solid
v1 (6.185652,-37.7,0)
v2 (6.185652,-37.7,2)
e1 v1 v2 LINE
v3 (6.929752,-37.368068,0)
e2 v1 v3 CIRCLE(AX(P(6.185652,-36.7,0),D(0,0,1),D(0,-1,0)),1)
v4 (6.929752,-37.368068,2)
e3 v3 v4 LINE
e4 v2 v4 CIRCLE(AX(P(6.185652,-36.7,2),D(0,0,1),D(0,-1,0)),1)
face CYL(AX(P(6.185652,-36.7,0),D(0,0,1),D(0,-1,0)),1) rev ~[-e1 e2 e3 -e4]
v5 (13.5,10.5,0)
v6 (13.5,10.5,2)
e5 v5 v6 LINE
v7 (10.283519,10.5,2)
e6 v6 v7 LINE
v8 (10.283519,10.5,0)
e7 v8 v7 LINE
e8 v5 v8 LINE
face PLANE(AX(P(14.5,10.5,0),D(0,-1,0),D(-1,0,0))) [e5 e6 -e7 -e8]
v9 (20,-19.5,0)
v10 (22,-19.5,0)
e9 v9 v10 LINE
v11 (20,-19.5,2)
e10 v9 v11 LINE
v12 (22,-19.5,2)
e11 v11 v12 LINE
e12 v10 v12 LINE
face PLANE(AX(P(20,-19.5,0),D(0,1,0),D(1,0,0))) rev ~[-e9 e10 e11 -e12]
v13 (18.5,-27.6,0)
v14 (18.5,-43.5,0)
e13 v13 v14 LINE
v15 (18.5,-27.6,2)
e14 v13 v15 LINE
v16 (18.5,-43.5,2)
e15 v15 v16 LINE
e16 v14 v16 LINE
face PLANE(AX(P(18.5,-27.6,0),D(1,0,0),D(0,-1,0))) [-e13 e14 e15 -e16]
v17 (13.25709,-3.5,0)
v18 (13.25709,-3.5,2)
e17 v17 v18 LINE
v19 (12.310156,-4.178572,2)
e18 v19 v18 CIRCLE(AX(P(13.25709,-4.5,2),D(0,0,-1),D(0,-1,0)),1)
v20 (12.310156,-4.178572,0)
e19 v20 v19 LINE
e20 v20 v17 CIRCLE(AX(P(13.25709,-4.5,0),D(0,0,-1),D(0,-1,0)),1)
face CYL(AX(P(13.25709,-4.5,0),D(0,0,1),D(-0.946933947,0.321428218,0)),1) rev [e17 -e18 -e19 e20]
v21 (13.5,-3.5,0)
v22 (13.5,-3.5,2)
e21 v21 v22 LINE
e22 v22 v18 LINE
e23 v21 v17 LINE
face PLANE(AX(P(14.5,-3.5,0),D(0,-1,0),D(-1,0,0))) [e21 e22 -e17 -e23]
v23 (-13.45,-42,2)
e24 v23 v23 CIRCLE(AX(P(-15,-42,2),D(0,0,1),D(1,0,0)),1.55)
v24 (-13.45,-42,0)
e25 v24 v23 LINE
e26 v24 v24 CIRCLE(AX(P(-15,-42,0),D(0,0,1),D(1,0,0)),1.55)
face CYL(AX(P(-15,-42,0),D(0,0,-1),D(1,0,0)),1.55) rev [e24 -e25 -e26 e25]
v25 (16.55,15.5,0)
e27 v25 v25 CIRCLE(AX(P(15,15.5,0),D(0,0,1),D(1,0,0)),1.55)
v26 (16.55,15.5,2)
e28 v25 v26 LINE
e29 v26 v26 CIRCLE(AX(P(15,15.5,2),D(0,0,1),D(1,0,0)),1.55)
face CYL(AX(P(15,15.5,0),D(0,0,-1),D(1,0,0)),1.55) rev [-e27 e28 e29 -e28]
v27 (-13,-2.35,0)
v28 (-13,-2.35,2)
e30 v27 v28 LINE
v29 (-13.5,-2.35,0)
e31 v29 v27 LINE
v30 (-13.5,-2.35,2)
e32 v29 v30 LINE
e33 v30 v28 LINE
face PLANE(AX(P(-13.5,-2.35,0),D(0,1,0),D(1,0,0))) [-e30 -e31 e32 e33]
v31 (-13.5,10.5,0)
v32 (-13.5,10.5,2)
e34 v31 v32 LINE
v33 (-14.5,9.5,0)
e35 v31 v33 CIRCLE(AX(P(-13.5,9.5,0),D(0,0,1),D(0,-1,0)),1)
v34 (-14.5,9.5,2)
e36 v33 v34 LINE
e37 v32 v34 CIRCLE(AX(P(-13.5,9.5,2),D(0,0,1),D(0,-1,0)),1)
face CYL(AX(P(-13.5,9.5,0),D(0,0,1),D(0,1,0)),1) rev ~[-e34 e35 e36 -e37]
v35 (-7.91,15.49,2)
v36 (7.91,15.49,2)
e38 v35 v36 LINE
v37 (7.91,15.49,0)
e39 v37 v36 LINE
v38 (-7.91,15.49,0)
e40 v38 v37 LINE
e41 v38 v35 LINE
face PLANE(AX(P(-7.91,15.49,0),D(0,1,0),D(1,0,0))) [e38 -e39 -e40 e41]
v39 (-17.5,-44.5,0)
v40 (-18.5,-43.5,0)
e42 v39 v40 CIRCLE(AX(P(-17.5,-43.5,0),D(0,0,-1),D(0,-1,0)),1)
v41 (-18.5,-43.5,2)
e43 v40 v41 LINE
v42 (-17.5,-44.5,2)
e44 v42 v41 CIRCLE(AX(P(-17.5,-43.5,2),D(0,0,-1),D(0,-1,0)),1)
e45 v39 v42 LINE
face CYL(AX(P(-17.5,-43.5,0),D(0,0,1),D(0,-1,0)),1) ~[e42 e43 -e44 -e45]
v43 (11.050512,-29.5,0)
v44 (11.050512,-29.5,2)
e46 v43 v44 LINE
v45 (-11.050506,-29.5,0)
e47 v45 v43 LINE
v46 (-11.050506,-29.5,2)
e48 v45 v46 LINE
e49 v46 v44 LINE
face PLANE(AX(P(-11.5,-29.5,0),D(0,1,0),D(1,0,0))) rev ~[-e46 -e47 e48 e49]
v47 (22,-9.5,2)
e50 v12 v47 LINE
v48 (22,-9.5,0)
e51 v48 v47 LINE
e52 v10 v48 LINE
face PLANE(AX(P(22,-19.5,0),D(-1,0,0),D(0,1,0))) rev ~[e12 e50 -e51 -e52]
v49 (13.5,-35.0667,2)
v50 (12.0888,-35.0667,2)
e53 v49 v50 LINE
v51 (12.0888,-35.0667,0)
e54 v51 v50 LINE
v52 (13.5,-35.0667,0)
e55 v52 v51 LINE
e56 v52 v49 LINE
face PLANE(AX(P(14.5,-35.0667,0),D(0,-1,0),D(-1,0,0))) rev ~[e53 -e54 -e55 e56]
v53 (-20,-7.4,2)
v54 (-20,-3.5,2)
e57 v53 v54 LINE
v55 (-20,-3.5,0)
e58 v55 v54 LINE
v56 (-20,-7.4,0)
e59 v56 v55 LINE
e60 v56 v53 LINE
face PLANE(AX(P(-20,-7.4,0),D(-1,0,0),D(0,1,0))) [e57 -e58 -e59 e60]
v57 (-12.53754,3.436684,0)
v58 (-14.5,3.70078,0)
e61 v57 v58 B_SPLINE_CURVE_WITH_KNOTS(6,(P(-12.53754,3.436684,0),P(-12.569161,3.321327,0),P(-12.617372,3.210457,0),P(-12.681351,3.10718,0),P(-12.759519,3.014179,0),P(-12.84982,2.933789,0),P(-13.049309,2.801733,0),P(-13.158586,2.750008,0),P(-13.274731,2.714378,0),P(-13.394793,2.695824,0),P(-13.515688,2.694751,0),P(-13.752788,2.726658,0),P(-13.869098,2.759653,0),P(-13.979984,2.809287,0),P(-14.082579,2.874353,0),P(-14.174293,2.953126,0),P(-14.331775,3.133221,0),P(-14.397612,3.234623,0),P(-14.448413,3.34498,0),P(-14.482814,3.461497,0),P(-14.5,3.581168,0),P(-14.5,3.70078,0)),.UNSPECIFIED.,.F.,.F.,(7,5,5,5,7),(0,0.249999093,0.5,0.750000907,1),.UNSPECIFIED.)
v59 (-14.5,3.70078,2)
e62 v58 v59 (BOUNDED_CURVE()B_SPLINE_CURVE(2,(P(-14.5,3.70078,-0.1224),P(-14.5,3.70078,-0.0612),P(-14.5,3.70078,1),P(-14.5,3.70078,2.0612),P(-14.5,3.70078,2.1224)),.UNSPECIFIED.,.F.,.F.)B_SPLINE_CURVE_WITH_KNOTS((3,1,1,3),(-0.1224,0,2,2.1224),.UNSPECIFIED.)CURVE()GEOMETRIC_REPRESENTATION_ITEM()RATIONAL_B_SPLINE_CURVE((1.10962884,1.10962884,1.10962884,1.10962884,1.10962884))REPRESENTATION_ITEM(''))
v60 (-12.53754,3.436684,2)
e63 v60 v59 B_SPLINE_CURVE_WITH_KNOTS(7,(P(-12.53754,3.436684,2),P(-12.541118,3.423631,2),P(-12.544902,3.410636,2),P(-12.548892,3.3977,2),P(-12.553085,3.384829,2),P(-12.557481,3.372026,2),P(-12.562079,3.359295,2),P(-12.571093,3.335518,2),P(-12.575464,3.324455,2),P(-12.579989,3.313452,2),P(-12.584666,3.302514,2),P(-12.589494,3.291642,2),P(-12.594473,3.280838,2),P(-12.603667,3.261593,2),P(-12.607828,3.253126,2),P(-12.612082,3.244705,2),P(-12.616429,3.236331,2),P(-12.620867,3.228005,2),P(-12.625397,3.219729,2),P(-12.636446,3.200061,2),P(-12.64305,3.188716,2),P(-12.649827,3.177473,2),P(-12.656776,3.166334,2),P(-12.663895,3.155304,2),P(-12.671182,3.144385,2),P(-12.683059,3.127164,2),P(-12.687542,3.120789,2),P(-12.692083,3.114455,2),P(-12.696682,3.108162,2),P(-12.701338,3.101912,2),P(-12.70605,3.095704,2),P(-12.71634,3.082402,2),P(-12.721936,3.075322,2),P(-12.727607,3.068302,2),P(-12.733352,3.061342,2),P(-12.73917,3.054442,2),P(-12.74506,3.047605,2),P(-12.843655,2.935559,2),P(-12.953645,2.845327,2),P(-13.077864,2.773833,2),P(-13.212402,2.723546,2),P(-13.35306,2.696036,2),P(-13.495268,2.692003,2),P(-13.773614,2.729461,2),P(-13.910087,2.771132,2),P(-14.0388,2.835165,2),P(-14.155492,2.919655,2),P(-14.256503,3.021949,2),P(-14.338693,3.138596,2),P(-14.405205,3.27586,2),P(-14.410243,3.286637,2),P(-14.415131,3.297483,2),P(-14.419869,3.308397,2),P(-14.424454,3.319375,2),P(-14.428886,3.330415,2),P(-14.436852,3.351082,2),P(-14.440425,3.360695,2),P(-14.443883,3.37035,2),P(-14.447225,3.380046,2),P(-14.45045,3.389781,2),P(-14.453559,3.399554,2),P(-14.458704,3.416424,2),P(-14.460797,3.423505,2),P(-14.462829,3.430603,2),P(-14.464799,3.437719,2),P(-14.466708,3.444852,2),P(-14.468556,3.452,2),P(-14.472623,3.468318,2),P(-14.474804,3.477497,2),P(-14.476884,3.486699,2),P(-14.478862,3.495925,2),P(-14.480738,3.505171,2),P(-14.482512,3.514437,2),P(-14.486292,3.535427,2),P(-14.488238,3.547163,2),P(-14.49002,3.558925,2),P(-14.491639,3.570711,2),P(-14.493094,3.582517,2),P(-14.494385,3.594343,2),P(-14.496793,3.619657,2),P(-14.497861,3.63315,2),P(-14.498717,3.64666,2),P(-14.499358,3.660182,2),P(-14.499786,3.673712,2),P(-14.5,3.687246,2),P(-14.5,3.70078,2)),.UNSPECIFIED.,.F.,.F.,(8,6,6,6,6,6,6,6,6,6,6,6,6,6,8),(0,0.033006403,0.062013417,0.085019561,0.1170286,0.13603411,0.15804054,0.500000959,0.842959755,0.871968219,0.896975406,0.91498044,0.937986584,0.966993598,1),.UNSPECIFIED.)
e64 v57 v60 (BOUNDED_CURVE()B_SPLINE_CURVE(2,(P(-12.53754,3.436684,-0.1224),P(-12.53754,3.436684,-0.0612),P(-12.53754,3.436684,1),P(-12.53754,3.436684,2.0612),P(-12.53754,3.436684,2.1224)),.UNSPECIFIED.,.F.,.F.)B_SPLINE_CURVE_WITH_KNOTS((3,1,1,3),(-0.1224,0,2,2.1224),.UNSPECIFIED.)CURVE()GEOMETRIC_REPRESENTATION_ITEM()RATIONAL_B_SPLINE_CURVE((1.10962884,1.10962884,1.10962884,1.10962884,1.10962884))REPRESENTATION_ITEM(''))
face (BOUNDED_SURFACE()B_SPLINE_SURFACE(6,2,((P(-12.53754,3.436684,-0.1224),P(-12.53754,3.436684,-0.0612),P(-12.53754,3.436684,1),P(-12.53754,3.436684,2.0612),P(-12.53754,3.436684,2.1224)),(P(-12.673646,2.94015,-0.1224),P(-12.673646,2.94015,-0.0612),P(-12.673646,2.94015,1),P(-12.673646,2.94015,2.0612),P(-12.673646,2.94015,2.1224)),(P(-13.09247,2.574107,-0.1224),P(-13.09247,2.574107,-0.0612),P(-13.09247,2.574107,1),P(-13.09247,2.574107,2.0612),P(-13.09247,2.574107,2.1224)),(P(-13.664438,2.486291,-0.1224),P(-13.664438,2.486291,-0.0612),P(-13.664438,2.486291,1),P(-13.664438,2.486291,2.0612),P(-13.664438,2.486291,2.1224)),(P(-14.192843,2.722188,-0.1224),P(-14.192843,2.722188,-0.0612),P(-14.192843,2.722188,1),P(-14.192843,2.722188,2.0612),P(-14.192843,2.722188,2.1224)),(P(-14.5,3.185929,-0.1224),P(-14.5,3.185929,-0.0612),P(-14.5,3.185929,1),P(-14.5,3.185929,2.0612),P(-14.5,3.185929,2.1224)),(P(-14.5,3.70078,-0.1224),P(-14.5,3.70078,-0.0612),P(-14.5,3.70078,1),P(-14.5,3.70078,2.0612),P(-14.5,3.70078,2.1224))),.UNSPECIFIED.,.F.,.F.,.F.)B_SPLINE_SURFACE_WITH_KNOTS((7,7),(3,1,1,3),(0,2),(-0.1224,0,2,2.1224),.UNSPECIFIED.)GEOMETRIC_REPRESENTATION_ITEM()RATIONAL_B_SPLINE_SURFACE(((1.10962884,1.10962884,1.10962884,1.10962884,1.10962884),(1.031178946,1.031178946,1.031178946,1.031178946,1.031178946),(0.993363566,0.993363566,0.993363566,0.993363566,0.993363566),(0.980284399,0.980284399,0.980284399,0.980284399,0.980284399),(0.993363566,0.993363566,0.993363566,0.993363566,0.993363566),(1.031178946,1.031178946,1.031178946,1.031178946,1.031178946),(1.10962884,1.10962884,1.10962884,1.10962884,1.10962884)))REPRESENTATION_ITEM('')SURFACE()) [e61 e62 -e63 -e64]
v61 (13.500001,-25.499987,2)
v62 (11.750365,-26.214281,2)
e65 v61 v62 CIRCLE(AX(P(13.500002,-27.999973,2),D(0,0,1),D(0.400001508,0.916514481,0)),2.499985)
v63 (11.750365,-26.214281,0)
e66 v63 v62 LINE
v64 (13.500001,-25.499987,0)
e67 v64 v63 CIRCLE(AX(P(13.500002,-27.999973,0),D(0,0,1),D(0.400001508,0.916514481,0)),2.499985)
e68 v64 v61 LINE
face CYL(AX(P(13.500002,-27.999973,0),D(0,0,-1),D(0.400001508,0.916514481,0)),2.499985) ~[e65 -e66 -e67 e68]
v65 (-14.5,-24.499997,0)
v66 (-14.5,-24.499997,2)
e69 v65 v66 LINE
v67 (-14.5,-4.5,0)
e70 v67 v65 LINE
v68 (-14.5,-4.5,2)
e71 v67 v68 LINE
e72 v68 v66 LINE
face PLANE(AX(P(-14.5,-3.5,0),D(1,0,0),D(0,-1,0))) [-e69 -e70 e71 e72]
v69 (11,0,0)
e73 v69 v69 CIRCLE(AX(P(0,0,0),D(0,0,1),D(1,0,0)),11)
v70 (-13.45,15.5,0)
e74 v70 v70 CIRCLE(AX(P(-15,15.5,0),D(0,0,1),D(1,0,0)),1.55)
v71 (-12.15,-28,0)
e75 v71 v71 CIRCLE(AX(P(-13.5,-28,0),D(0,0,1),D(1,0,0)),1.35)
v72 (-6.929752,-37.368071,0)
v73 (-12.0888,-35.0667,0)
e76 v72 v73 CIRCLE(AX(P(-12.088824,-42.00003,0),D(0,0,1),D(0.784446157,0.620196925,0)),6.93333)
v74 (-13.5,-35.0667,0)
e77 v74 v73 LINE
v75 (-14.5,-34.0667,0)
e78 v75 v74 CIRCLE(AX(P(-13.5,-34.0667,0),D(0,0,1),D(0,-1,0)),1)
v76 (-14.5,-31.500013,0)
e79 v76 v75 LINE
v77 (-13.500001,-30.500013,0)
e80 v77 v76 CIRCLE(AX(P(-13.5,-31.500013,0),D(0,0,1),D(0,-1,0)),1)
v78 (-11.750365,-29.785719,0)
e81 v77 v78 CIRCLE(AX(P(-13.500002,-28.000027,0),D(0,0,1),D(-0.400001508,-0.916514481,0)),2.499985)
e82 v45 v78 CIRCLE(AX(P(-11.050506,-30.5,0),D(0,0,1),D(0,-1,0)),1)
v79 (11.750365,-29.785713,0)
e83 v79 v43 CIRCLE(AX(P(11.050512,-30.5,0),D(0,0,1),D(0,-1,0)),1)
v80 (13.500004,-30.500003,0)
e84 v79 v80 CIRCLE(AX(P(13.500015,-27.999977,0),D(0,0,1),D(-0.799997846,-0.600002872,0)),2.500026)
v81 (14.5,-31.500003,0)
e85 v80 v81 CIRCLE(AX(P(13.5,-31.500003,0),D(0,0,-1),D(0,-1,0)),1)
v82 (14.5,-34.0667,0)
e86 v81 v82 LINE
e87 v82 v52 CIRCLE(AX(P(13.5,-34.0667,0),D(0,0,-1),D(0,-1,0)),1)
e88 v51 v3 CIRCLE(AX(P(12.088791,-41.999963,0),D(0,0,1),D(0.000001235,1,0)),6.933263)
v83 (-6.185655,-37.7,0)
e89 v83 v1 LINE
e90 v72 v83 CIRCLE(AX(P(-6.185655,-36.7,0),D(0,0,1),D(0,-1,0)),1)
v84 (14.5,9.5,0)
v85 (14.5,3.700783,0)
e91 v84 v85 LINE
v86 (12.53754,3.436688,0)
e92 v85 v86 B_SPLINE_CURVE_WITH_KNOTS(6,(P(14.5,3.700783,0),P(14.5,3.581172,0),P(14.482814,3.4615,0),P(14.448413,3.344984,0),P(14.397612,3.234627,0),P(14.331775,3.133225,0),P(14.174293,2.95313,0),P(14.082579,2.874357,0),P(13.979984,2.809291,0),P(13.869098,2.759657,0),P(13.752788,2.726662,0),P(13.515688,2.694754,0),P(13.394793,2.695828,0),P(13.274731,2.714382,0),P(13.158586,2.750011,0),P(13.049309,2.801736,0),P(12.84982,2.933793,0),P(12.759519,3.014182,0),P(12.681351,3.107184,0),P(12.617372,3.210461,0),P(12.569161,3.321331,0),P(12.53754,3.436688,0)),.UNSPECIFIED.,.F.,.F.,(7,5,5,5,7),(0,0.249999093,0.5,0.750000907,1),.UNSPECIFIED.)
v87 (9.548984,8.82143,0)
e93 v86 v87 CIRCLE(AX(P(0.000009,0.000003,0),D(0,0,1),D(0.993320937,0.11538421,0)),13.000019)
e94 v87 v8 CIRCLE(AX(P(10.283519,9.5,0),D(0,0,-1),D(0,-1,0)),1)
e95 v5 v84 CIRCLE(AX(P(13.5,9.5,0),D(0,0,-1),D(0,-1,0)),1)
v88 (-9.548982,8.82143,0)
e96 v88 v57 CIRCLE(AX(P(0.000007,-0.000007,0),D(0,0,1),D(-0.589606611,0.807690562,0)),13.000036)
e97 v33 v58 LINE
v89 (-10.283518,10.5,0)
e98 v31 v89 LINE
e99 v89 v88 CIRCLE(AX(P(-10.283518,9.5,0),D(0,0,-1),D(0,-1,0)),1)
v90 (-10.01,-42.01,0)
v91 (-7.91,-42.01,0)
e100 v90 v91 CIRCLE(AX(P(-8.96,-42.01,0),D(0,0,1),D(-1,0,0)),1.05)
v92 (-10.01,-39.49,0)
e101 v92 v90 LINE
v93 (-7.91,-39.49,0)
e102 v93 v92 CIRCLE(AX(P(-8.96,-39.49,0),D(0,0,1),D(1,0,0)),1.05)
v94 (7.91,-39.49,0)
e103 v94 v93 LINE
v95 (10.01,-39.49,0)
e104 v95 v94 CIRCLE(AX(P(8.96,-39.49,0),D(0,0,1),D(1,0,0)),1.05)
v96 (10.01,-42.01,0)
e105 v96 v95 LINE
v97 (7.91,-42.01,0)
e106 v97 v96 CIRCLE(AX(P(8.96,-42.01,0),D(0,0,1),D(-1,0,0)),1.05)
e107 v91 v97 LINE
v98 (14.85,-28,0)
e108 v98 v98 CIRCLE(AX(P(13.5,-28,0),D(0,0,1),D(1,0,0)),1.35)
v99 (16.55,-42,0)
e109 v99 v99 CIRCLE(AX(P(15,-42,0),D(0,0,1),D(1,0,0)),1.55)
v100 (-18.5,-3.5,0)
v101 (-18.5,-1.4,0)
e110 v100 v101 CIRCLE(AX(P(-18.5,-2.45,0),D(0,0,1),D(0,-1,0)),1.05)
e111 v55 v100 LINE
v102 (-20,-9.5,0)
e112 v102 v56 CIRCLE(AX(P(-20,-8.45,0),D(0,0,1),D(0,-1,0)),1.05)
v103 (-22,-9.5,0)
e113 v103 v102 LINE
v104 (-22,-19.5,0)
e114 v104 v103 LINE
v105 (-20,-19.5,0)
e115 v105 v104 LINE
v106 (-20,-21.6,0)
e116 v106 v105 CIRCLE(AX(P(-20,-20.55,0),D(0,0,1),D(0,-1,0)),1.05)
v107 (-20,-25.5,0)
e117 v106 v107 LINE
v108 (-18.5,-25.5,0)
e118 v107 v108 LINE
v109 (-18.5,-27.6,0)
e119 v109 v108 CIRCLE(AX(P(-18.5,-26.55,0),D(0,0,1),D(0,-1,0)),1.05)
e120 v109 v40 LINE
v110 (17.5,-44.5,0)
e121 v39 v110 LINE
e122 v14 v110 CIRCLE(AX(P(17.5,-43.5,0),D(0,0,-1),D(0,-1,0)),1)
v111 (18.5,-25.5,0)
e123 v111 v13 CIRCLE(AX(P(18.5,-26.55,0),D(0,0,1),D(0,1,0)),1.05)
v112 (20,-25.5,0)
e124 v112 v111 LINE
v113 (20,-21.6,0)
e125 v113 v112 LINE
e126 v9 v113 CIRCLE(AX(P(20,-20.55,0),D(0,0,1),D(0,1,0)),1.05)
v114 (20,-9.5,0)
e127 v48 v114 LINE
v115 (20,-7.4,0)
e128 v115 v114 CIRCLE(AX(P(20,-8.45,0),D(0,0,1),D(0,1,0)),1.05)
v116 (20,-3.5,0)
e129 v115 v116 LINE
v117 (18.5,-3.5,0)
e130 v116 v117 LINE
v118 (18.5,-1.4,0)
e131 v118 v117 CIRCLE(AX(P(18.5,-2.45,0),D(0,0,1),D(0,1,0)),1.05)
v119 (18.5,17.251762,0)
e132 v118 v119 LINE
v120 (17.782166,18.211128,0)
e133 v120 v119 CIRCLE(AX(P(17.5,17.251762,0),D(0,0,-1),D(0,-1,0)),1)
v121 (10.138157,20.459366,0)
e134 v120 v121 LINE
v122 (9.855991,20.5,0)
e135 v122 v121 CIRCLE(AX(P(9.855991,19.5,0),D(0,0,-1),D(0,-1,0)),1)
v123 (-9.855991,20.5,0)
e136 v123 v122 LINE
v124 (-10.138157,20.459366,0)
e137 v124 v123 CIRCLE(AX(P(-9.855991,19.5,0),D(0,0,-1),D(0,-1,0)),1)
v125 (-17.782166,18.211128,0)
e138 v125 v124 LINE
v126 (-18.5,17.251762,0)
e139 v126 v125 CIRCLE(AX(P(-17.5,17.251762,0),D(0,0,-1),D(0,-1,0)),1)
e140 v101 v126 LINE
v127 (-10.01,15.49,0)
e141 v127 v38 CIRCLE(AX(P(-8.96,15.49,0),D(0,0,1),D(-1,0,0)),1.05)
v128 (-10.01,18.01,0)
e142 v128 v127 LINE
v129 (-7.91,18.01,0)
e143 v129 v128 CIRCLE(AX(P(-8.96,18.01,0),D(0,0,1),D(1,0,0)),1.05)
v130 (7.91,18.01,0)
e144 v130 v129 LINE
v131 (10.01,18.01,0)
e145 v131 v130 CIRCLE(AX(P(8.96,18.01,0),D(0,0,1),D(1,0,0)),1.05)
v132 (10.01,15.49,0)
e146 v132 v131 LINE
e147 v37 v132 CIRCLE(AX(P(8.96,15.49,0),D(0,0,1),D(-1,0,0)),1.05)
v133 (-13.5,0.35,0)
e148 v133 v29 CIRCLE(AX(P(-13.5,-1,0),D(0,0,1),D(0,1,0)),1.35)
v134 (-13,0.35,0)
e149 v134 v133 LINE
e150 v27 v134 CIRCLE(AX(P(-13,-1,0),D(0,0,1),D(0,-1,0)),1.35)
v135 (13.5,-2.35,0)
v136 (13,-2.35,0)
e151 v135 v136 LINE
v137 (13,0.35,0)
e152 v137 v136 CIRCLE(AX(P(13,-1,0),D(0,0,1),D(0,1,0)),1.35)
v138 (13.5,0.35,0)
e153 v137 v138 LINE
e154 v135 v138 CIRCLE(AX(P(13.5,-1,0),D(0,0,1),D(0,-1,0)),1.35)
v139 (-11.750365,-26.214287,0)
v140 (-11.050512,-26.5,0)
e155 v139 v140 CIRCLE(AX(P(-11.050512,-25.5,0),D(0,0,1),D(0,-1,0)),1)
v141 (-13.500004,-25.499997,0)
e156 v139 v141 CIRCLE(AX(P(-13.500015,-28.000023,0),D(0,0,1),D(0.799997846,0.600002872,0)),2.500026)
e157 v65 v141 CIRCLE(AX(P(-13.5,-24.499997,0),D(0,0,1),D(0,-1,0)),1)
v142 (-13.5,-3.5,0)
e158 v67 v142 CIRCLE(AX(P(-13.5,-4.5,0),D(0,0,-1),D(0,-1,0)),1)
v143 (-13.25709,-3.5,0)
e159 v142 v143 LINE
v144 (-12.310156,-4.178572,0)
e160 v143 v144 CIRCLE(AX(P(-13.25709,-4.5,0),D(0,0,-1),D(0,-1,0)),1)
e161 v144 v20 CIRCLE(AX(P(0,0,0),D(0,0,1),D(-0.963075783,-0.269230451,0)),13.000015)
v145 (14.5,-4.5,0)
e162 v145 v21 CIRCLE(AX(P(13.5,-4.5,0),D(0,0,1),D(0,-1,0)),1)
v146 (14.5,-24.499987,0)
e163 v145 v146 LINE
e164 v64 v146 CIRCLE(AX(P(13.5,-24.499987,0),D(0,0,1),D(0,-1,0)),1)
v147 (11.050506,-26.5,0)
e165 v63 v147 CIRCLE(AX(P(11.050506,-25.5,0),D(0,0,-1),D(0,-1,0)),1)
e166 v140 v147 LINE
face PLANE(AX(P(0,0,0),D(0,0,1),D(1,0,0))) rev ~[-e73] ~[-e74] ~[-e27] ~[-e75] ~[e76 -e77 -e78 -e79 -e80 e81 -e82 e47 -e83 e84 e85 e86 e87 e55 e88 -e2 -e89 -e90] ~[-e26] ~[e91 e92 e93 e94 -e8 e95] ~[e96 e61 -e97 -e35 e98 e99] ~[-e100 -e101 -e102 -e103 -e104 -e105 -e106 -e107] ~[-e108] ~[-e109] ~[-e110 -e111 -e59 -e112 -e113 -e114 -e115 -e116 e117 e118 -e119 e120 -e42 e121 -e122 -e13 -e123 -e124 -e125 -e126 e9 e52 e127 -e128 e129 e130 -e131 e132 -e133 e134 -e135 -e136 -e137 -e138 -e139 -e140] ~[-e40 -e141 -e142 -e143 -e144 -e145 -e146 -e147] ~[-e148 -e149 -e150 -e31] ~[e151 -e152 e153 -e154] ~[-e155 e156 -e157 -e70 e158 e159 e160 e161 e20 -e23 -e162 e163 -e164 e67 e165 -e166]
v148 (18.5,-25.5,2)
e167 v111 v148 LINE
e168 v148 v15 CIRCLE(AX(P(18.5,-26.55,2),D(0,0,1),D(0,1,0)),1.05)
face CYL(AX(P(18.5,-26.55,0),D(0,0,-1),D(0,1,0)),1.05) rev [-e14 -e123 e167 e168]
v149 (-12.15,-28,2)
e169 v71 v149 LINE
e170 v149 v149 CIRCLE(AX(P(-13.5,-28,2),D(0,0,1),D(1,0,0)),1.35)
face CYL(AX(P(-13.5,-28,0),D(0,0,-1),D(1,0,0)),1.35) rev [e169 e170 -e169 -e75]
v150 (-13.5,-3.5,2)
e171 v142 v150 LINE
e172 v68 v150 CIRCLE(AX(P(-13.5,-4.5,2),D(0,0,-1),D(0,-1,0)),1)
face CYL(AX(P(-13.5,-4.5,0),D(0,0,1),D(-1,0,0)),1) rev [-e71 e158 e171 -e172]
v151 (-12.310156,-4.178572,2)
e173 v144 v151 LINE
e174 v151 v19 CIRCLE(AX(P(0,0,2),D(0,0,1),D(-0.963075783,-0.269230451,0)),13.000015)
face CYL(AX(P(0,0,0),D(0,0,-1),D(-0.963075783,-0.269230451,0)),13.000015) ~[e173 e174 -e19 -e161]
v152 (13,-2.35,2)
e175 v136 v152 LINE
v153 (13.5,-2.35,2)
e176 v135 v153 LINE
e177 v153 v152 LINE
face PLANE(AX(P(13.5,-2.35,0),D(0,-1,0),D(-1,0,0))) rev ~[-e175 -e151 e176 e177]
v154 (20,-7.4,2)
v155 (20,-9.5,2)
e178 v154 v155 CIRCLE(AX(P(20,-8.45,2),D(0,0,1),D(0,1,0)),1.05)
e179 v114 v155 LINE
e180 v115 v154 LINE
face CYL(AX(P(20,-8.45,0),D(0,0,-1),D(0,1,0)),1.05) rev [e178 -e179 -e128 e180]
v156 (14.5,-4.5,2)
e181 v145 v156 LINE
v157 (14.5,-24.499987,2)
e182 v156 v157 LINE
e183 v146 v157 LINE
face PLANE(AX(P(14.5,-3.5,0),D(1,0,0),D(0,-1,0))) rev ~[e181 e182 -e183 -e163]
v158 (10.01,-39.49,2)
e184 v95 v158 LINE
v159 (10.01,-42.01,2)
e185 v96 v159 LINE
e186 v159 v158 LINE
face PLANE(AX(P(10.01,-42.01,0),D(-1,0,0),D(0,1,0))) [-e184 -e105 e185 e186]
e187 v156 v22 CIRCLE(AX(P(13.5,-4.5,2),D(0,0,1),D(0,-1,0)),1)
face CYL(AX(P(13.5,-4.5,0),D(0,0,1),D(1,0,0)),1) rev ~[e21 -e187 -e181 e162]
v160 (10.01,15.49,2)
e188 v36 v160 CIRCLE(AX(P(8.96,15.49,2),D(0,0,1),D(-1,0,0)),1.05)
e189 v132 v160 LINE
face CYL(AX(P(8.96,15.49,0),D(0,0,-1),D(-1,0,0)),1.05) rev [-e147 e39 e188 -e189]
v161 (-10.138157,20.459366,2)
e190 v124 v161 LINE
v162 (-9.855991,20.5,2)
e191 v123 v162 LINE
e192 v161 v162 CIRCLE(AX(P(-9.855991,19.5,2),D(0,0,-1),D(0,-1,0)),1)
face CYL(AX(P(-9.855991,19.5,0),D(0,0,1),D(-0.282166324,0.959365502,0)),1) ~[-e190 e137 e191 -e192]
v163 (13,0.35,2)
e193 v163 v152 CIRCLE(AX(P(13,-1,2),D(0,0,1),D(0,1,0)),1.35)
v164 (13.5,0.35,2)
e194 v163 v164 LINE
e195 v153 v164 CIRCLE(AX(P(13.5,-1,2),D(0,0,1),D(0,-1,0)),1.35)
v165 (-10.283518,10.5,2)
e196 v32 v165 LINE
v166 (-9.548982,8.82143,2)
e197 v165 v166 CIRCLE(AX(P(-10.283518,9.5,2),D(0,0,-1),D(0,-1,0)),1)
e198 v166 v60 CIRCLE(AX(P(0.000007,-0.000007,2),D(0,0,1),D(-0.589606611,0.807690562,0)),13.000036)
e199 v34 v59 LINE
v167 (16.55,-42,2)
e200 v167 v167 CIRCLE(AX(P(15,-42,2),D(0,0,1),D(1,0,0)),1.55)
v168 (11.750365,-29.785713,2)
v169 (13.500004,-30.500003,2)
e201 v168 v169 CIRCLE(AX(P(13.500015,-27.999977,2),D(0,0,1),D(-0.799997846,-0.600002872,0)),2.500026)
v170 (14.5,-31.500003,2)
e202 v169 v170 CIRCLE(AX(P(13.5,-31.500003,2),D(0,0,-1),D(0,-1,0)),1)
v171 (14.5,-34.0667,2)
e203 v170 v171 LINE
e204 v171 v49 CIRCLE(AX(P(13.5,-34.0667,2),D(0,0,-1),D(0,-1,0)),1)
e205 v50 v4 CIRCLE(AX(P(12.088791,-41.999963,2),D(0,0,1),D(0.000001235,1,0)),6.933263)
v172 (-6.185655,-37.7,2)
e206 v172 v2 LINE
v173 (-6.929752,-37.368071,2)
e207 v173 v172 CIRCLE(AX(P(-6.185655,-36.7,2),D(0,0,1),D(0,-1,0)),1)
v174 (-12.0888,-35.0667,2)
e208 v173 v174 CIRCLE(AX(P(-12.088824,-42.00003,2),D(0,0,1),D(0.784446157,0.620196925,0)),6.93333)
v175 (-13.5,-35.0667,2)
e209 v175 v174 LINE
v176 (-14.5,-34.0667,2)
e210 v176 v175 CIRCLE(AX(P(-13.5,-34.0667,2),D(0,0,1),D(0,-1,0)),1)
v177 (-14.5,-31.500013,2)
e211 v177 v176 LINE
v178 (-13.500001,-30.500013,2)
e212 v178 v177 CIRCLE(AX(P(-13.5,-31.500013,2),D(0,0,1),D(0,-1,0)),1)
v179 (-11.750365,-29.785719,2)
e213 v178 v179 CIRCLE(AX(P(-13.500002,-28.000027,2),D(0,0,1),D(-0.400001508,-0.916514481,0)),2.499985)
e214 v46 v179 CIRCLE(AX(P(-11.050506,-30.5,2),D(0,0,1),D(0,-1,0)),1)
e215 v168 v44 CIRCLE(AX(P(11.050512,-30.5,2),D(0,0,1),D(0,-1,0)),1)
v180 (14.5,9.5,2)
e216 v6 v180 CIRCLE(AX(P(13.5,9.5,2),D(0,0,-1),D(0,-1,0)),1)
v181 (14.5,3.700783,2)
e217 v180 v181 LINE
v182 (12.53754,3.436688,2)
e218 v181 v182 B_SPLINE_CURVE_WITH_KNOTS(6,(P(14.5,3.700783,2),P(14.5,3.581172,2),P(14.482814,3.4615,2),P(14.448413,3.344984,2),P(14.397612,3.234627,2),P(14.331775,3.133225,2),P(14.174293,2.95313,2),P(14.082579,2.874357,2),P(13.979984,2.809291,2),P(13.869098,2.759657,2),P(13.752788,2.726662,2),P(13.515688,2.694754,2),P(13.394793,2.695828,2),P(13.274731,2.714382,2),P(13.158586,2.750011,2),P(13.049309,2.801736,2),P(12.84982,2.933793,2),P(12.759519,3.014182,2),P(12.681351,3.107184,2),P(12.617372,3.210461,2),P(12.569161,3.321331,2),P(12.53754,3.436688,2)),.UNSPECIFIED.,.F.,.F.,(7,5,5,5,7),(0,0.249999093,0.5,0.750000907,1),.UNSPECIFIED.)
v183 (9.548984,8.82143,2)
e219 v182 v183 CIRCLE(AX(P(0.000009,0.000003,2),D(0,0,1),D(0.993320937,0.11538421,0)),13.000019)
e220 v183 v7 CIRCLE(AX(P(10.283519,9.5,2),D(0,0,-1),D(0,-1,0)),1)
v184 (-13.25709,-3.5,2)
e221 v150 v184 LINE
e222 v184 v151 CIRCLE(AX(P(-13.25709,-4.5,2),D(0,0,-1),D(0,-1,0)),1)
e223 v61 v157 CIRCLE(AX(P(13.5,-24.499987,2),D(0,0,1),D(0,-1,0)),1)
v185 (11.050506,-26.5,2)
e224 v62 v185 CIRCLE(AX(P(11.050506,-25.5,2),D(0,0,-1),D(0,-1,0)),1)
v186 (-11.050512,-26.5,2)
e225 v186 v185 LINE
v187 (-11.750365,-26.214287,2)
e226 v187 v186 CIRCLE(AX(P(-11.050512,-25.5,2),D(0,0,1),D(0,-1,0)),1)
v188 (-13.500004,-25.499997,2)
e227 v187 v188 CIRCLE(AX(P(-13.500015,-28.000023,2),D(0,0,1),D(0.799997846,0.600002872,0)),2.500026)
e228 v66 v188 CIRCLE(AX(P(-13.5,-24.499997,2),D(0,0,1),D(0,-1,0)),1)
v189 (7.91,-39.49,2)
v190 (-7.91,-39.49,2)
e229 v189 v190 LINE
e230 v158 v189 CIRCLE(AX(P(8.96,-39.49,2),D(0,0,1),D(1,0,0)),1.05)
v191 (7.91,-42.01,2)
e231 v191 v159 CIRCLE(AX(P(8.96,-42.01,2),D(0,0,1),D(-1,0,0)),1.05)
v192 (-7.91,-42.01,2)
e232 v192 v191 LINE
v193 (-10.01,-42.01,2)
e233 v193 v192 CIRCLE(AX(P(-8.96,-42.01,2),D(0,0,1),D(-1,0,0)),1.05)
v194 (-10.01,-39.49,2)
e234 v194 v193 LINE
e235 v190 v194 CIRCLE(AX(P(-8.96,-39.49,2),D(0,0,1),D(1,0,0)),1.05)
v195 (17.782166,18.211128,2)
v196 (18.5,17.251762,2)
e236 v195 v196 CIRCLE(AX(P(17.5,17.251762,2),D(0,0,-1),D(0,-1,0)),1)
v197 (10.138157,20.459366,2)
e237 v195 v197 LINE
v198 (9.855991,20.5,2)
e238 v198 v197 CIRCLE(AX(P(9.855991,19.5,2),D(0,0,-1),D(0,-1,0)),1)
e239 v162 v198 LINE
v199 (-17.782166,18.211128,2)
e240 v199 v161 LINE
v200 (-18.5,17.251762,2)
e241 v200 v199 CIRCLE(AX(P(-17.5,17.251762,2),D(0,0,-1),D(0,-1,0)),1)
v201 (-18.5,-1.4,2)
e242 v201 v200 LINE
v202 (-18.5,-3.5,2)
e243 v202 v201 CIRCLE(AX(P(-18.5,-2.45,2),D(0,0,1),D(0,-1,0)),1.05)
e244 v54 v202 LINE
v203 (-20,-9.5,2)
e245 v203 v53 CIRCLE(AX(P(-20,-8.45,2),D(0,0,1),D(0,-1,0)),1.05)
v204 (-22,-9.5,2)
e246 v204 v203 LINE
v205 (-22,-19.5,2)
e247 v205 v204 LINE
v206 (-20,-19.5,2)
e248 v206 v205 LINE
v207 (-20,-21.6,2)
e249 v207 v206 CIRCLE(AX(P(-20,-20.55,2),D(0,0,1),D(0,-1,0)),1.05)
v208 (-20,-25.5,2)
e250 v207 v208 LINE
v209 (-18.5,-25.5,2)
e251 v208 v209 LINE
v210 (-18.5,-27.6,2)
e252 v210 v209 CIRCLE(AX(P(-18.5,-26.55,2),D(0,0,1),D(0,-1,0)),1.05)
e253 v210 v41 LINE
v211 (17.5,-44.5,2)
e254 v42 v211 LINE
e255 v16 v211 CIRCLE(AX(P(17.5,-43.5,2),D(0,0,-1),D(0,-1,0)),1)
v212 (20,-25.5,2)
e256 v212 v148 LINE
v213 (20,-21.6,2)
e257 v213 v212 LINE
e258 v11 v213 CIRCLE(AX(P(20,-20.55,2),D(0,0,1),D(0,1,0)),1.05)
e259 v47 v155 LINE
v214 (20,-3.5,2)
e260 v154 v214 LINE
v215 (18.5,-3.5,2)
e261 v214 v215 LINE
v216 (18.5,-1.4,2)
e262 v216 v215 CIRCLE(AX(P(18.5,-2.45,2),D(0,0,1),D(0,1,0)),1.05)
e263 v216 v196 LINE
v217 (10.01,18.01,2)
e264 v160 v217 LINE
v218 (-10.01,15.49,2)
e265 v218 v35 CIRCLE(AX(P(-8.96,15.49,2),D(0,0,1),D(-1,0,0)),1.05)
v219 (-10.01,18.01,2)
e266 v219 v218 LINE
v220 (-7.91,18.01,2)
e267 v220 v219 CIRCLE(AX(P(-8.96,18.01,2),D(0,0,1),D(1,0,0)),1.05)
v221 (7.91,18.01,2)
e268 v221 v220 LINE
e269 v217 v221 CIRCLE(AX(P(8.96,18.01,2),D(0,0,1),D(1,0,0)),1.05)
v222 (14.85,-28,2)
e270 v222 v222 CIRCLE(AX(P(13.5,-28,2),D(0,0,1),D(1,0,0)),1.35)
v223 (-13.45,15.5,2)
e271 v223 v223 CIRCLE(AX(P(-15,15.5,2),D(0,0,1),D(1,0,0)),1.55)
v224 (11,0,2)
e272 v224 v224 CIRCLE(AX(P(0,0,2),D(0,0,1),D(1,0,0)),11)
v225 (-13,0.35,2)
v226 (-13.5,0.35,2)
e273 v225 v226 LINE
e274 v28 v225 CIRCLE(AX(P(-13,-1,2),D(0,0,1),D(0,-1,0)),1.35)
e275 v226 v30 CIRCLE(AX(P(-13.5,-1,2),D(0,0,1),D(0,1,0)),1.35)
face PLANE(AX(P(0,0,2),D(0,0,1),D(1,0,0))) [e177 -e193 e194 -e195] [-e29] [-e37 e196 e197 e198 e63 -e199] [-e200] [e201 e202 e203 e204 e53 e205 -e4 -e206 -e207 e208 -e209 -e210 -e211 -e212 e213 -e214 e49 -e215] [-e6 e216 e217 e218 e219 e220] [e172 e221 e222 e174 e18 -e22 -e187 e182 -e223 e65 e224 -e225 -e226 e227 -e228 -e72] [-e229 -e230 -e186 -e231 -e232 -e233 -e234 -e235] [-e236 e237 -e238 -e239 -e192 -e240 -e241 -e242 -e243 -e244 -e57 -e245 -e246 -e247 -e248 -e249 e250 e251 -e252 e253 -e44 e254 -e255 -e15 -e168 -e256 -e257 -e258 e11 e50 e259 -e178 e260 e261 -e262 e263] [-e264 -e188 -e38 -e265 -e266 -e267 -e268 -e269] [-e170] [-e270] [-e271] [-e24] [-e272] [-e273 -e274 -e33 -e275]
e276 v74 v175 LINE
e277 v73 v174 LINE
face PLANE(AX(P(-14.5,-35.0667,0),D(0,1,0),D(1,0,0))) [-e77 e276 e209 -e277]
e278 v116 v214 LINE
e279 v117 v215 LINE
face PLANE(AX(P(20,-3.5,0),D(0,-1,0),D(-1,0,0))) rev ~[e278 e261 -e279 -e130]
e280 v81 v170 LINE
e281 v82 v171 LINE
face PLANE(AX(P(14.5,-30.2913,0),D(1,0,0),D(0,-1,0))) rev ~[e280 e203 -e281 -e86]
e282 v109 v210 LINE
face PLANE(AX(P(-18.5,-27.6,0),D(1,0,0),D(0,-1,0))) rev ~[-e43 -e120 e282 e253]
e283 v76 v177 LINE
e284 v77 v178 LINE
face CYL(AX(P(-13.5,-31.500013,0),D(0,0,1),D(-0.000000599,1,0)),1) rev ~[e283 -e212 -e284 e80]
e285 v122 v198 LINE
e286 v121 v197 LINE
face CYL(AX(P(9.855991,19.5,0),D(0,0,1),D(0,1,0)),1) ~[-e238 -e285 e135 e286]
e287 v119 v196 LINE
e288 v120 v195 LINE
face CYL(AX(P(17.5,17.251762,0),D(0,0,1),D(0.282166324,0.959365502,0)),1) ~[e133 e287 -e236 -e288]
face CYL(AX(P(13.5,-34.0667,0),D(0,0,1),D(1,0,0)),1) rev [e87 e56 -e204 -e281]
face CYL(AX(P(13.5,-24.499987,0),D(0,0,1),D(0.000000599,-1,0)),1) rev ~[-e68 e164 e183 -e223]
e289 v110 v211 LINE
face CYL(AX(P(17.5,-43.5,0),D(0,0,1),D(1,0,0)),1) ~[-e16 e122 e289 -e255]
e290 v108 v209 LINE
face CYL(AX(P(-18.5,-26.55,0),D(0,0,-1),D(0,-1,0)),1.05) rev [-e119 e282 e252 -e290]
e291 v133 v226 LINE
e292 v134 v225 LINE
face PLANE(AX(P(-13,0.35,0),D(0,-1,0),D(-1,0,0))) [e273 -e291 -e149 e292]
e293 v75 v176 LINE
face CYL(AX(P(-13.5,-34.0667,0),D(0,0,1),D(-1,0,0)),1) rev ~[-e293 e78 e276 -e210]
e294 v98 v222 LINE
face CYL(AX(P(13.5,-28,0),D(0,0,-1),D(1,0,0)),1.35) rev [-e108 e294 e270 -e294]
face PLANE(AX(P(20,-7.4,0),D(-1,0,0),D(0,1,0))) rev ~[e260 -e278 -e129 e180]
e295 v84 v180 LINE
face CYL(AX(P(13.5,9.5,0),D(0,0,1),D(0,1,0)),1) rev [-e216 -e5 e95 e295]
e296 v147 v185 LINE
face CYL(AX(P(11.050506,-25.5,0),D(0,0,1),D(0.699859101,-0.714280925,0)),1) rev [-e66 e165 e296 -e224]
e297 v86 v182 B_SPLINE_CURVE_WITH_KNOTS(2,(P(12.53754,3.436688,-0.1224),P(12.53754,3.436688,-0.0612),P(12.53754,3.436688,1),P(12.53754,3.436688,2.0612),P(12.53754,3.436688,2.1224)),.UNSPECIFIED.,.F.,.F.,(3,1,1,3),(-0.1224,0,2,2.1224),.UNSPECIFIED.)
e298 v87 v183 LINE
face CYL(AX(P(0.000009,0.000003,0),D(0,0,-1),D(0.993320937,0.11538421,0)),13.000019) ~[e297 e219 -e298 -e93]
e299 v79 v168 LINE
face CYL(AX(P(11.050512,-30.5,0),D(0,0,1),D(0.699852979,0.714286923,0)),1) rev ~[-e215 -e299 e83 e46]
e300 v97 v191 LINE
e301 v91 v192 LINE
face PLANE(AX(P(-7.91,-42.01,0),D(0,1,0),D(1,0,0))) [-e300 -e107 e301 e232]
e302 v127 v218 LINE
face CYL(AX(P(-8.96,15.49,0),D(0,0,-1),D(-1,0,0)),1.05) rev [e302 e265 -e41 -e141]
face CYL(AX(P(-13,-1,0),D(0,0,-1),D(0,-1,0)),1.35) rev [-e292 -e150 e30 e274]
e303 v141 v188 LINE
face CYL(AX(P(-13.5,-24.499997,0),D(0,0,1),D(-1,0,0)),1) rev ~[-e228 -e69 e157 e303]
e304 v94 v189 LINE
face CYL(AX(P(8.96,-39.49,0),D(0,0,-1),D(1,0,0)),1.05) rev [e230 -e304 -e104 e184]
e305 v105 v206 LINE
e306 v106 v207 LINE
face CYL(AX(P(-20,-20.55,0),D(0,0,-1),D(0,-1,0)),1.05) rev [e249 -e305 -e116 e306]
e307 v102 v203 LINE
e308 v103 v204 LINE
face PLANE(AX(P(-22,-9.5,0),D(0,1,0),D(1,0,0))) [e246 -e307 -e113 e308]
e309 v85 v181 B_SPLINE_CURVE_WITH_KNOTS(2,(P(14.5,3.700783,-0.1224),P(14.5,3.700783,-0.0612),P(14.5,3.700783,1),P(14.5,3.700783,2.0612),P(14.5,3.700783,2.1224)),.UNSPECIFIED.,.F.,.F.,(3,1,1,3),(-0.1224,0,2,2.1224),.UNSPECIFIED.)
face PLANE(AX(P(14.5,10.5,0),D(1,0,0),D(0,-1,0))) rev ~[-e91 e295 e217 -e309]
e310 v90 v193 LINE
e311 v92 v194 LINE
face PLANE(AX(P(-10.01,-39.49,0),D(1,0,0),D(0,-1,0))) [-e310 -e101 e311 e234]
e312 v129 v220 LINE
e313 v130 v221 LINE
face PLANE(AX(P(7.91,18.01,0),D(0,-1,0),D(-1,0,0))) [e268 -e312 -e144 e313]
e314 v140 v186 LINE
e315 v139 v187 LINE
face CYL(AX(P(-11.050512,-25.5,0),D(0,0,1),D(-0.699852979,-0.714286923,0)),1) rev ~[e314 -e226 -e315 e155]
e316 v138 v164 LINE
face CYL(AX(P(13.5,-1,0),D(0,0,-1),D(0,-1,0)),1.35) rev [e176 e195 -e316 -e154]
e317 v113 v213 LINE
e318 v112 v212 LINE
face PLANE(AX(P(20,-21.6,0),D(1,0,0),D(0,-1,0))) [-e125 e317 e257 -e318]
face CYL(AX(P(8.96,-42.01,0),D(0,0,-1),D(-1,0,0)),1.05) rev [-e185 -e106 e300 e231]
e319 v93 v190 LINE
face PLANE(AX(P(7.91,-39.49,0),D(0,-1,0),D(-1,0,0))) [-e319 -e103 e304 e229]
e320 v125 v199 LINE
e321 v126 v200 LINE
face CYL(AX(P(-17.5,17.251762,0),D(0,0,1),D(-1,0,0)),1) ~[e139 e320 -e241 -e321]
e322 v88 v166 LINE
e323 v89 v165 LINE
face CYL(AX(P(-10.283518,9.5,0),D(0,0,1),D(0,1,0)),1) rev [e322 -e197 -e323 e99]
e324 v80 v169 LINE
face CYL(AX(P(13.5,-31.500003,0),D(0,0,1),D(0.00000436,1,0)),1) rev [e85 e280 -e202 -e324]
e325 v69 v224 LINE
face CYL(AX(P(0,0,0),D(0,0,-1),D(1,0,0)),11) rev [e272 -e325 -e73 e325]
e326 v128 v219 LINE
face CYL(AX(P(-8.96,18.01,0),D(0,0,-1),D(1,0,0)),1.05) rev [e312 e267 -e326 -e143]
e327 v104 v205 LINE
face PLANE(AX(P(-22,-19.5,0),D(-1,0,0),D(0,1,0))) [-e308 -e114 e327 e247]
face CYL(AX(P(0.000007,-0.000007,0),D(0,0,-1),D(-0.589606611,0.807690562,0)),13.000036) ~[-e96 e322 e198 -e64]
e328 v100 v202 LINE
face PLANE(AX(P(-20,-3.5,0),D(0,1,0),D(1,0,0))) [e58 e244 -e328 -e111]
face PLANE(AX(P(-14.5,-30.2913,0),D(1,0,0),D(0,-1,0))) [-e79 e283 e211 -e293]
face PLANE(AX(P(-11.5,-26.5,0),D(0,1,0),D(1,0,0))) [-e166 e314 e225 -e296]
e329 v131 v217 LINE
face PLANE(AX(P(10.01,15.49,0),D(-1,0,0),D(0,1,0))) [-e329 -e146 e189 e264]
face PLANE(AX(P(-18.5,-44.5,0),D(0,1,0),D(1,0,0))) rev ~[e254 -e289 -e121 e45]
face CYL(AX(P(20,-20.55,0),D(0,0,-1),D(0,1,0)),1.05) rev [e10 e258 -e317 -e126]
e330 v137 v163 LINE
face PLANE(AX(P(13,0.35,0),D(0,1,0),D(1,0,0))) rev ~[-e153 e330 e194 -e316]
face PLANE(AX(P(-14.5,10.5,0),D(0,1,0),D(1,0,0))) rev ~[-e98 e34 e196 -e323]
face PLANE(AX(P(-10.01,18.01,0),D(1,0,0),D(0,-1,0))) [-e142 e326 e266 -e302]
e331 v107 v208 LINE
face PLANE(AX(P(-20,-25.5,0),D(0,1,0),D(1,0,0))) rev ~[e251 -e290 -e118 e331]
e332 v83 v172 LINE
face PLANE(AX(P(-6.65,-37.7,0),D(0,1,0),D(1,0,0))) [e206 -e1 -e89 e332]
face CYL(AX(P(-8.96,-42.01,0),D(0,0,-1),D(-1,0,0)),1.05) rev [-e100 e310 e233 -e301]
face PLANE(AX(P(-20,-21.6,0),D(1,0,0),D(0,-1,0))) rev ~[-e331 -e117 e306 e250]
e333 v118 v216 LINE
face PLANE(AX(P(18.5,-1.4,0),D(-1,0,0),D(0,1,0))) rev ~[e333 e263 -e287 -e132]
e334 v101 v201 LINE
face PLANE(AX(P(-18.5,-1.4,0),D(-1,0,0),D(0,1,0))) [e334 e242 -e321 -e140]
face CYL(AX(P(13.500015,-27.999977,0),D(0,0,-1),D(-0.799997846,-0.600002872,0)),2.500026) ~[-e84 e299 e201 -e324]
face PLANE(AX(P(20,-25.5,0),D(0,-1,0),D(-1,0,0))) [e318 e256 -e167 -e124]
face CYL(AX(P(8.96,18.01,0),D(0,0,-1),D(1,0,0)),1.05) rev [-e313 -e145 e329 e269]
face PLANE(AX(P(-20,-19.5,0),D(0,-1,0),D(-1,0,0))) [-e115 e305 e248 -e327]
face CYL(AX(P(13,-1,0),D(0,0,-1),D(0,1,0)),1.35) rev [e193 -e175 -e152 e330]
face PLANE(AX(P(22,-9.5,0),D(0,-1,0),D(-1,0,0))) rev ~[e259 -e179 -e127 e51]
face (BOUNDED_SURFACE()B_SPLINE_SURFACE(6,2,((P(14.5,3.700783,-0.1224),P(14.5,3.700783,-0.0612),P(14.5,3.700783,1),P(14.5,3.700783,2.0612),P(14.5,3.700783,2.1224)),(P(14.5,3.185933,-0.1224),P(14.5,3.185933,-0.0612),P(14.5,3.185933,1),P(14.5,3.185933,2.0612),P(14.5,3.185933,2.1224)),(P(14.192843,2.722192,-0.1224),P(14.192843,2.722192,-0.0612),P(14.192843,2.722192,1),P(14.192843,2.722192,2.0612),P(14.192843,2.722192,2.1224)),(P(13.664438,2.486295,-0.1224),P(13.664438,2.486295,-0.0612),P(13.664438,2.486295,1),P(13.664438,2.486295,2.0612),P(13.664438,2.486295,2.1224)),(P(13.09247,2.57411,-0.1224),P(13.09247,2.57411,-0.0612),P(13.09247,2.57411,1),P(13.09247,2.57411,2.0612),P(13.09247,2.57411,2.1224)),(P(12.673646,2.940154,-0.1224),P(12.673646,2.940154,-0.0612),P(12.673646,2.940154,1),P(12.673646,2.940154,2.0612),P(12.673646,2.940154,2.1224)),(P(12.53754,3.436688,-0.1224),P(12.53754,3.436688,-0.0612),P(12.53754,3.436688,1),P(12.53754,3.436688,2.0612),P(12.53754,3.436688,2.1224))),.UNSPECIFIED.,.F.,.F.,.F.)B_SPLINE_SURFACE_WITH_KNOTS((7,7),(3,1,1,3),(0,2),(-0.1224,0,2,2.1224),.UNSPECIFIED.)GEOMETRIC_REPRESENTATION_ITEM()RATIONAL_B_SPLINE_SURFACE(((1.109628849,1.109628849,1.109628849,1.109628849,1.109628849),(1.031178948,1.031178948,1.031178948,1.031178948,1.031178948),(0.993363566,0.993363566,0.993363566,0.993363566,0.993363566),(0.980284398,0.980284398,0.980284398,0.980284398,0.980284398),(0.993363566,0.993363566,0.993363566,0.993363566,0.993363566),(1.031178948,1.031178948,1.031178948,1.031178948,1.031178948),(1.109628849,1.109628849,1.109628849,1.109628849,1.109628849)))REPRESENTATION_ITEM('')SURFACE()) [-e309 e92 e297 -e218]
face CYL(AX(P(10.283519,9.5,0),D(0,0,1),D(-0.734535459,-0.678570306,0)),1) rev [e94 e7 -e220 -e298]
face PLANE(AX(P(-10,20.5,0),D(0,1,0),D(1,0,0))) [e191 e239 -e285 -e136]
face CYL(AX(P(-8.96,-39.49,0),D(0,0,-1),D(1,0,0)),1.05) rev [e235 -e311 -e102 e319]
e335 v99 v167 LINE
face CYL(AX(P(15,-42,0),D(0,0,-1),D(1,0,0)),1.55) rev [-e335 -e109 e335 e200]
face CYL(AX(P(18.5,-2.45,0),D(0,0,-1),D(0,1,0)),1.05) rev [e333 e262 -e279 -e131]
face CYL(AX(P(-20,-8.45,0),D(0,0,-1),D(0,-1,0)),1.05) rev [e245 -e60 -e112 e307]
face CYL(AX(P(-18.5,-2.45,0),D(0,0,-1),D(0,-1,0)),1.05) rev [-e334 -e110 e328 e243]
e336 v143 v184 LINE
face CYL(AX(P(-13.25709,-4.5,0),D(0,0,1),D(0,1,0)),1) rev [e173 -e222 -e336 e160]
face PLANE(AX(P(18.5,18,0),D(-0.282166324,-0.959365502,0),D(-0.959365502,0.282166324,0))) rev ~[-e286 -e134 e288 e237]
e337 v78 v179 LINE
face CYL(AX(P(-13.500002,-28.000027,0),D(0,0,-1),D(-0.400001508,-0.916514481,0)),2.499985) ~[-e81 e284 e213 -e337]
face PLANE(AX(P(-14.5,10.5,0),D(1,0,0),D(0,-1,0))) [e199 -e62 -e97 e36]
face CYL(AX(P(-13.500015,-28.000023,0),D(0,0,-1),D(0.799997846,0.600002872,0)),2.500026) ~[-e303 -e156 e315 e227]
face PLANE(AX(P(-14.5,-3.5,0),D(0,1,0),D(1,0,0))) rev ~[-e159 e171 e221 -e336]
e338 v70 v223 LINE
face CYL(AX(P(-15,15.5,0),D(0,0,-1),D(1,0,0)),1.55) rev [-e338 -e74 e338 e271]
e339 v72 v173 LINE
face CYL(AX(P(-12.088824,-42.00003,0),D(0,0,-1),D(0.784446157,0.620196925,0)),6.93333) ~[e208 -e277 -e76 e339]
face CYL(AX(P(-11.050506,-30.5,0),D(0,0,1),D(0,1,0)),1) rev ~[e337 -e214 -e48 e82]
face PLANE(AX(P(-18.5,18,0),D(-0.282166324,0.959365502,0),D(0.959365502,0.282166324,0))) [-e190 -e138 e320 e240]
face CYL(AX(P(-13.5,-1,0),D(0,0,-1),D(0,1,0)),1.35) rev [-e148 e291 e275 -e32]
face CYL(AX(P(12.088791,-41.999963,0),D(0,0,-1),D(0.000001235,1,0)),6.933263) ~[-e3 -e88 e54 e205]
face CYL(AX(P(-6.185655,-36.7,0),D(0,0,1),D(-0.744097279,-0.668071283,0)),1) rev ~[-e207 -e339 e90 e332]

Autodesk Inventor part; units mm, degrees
ref_plane "YZ Plane" through (0, 0, 0) normal (1, 0, 0) x (0, 1, 0)
ref_plane "XZ Plane" through (0, 0, 0) normal (0, 1, 0) x (-1, 0, 0)
ref_plane "XY Plane" through (0, 0, 0) normal (0, 0, 1) x (1, 0, 0)
sketch "スケッチ1" plane through (0, 0, 0) normal (0, 0, 1) x (1, 0, 0)
  circle A0 centre (0, 0) radius 11
  line L0 (-20, -19.5) -> (-22, -19.5)
  line L1 (-22, -19.5) -> (-22, -9.5)
  line L2 (-22, -9.5) -> (-20, -9.5)
  circle A1 centre (-13.5, -28) radius 1.35
  arc A2 (-20, -21.6) -> (-20, -19.5) centre (-20, -20.55) ccw
  arc A3 (-20, -9.5) -> (-20, -7.4) centre (-20, -8.45) ccw
  arc A4 (-7.6649, 10.5) -> (-12.9132, 1.5) centre (0, 0) ccw
  arc A5 (-12.52, -3.5) -> (12.52, -3.5) centre (0, 0) ccw
  arc A6 (-11.5, -26.5) -> (-14.5, -25.7087) centre (-13.5, -28) ccw
  line L3 (-14.5, 10.5) -> (-7.6649, 10.5)
  line L4 (-14.5, 10.5) -> (-14.5, 1.5)
  line L5 (-14.5, 1.5) -> (-12.9132, 1.5)
  line L6 (-14.5, -3.5) -> (-12.52, -3.5)
  line L7 (-14.5, -3.5) -> (-14.5, -25.7087)
  line L8 (-35, -44.5) -> (35, -44.5) construction
  line L9 (35, -44.5) -> (35, -39.5) construction
  line L10 (35, -39.5) -> (-35, -39.5) construction
  line L11 (-35, -39.5) -> (-35, -44.5) construction
  line L12 (-35, -44.5) -> (35, -39.5) construction
  line L13 (35, -44.5) -> (-35, -39.5) construction
  line L14 (-35, -42) -> (35, -42) construction
  line L15 (0, -44.5) -> (0, 20.5) construction
  line L16 (-10, 20.5) -> (10, 20.5)
  line L17 (-18.5, -44.5) -> (18.5, -44.5)
  line L18 (-13.5, -1) -> (0, -1) construction
  line L19 (-13.5, -28) -> (-13.5, -1) construction
  circle A7 centre (-15, -42) radius 1.55
  line L20 (-10, -42) -> (10, -42) construction
  line L21 (10, -42) -> (10, -39.5) construction
  line L22 (-10, -39.5) -> (-10, -42) construction
  line L23 (-10, -42) -> (10, -39.5) construction
  line L24 (10, -42) -> (-10, -39.5) construction
  line L25 (-18.5, 18) -> (-10, 20.5)
  line L26 (-10.01, -42.01) -> (10.01, -42.01)
  line L27 (10.01, -42.01) -> (10.01, -39.49)
  line L28 (10.01, -39.49) -> (-10.01, -39.49)
  line L29 (-10.01, -39.49) -> (-10.01, -42.01)
  line L30 (-10.01, -42.01) -> (10.01, -39.49) construction
  line L31 (10.01, -42.01) -> (-10.01, -39.49) construction
  line L32 (-10.01, -40.75) -> (10.01, -40.75) construction
  arc A8 (-10.01, -42.01) -> (-7.91, -42.01) centre (-8.96, -42.01) ccw
  arc A9 (-7.91, -39.49) -> (-10.01, -39.49) centre (-8.96, -39.49) ccw
  line L33 (-35, 13) -> (35, 13) construction
  line L34 (35, 13) -> (35, 18) construction
  line L35 (35, 18) -> (-35, 18) construction
  line L36 (-35, 18) -> (-35, 13) construction
  line L37 (-35, 13) -> (35, 18) construction
  line L38 (35, 13) -> (-35, 18) construction
  line L39 (-35, 15.5) -> (35, 15.5) construction
  circle A10 centre (-15, 15.5) radius 1.55
  line L40 (-10, 15.5) -> (10, 15.5) construction
  line L41 (10, 15.5) -> (10, 18) construction
  line L42 (-10, 18) -> (-10, 15.5) construction
  line L43 (-10, 15.5) -> (10, 18) construction
  line L44 (10, 15.5) -> (-10, 18) construction
  line L45 (-10.01, 15.49) -> (10.01, 15.49)
  line L46 (10.01, 15.49) -> (10.01, 18.01)
  line L47 (10.01, 18.01) -> (-10.01, 18.01)
  line L48 (-10.01, 18.01) -> (-10.01, 15.49)
  line L49 (-10.01, 15.49) -> (10.01, 18.01) construction
  line L50 (10.01, 15.49) -> (-10.01, 18.01) construction
  line L51 (-10.01, 16.75) -> (10.01, 16.75) construction
  arc A11 (-10.01, 15.49) -> (-7.91, 15.49) centre (-8.96, 15.49) ccw
  arc A12 (-7.91, 18.01) -> (-10.01, 18.01) centre (-8.96, 18.01) ccw
  circle A13 centre (13.5, -28) radius 1.35
  arc A14 (12.9132, 1.5) -> (7.6649, 10.5) centre (0, 0) ccw
  line L52 (14.5, 1.5) -> (12.9132, 1.5)
  line L53 (14.5, 10.5) -> (14.5, 1.5)
  line L54 (14.5, 10.5) -> (7.6649, 10.5)
  line L55 (14.5, -3.5) -> (12.52, -3.5)
  circle A15 centre (15, -42) radius 1.55
  line L56 (18.5, 18) -> (10, 20.5)
  arc A16 (7.91, -42.01) -> (10.01, -42.01) centre (8.96, -42.01) ccw
  arc A17 (10.01, -39.49) -> (7.91, -39.49) centre (8.96, -39.49) ccw
  arc A18 (10.01, 18.01) -> (7.91, 18.01) centre (8.96, 18.01) ccw
  arc A19 (7.91, 15.49) -> (10.01, 15.49) centre (8.96, 15.49) ccw
  circle A20 centre (15, 15.5) radius 1.55
  circle A21 centre (-13.5, -1) radius 2.5 construction
  line L57 (-18.5, -28) -> (0, -28) construction
  line L58 (-11.5, -26.5) -> (11.5, -26.5)
  arc A22 (-14.5, -30.2913) -> (-11.5, -29.5) centre (-13.5, -28) ccw
  line L59 (-11.5, -29.5) -> (11.5, -29.5)
  line L60 (-14.5, -30.2913) -> (-14.5, -35.0667)
  line L61 (-14.5, -35.0667) -> (-12.0888, -35.0667)
  line L62 (-6.65, -37.7) -> (6.65, -37.7)
  line L63 (-14.5, -31) -> (0, -31) construction
  arc A23 (-6.65, -37.7) -> (-12.0888, -35.0667) centre (-12.0888, -42) ccw
  line L64 (14.5, -35.0667) -> (12.0888, -35.0667)
  arc A24 (12.0888, -35.0667) -> (6.65, -37.7) centre (12.0888, -42) ccw
  line L65 (-22, -14.5) -> (-13.5, -14.5) construction
  arc A25 (-13, -2.35) -> (-13, 0.35) centre (-13, -1) ccw
  line L66 (-13.5, -2.35) -> (-13, -2.35)
  line L67 (-13, 0.35) -> (-13.5, 0.35)
  arc A26 (-13.5, 0.35) -> (-13.5, -2.35) centre (-13.5, -1) ccw
  arc A27 (13, 0.35) -> (13, -2.35) centre (13, -1) ccw
  line L68 (13.5, -2.35) -> (13, -2.35)
  line L69 (13, 0.35) -> (13.5, 0.35)
  arc A28 (13.5, -2.35) -> (13.5, 0.35) centre (13.5, -1) ccw
  line L70 (-20, -21.6) -> (-20, -25.5)
  line L71 (-20, -25.5) -> (-18.5, -25.5)
  line L72 (-18.5, -27.6) -> (-18.5, -44.5)
  arc A29 (-18.5, -27.6) -> (-18.5, -25.5) centre (-18.5, -26.55) ccw
  line L73 (-20, -7.4) -> (-20, -3.5)
  line L74 (-20, -3.5) -> (-18.5, -3.5)
  arc A30 (-18.5, -3.5) -> (-18.5, -1.4) centre (-18.5, -2.45) ccw
  line L75 (-18.5, -1.4) -> (-18.5, 18)
  line L76 (20, -19.5) -> (22, -19.5)
  line L77 (22, -19.5) -> (22, -9.5)
  line L78 (22, -9.5) -> (20, -9.5)
  arc A31 (20, -19.5) -> (20, -21.6) centre (20, -20.55) ccw
  arc A32 (20, -7.4) -> (20, -9.5) centre (20, -8.45) ccw
  line L79 (20, -21.6) -> (20, -25.5)
  line L80 (18.5, -27.6) -> (18.5, -44.5)
  arc A33 (18.5, -25.5) -> (18.5, -27.6) centre (18.5, -26.55) ccw
  line L81 (20, -3.5) -> (18.5, -3.5)
  arc A34 (18.5, -1.4) -> (18.5, -3.5) centre (18.5, -2.45) ccw
  line L82 (20, -7.4) -> (20, -3.5)
  line L83 (18.5, -1.4) -> (18.5, 18)
  line L84 (20, -25.5) -> (18.5, -25.5)
  line L85 (14.5, -3.5) -> (14.5, -25.7087)
  arc A35 (14.5, -25.7087) -> (11.5, -26.5) centre (13.5, -28) ccw
  arc A36 (11.5, -29.5) -> (14.5, -30.2913) centre (13.5, -28) ccw
  line L86 (14.5, -30.2913) -> (14.5, -35.0667)
  point P0 (0, -42)
  point P1 (0, -40.75)
  point P2 (0, -42)
  point P3 (0, 15.5)
  point P4 (0, 16.75)
  point P5 (0, 15.5)
  point P6 (0, 15.5)
  point P7 (0, 16.75)
  point P8 (7.91, -42.01)
  point P9 (7.91, 15.49)
  point P10 (7.91, 18.01)
  point P11 (-15, -30)
  point P12 (-15, -26)
  dimension "d0" = 22
  dimension "d38" = 2
  dimension "d39" = 10
  dimension "d151" = 1.05
  dimension "d152" = 1.05
  dimension "d171" = 70
  dimension "d172" = 5
  dimension "d173" = 1
  dimension "d176" = 20
  dimension "d177" = 2.5
  dimension "d178" = 2
  dimension "d179" = 2
  dimension "d180" = 1.05
  dimension "d181" = 0.01
  dimension "d182" = 0.01
  dimension "d183" = 3.1
  dimension "d184" = 70
  dimension "d185" = 5
  dimension "d186" = 20
  dimension "d187" = 2.5
  dimension "d188" = 1.05
  dimension "d189" = 0.01
  dimension "d190" = 0.01
  dimension "d191" = 3.1
  dimension "d192" = 52.5
  dimension "d193" = 2.5
  dimension "d194" = 13
  dimension "d195" = 30
  dimension "d196" = 30
  dimension "d199" = 2.7
  dimension "d200" = 2.5
  dimension "d201" = 2.5
  dimension "d202" = 4
  dimension "d204" = 5
  dimension "d206" = 3
  dimension "d207" = 4.0667
  dimension "d208" = 6.7
  dimension "d211" = 13.3
  dimension "d213" = 2.7
  dimension "d214" = 27
  dimension "d215" = 0.5
  dimension "d218" = 1.05
  dimension "d219" = 1.5
  dimension "d220" = 40
  dimension "d221" = 2.5
  dimension "d222" = 27
  dimension "d223" = 3
  dimension "d224" = 22
extrude "押し出し1" add sketch "スケッチ1" along normal blind 2
fillet "フィレット1" radius 1 6 edges at (-18.5, -44.5, 1) (18.5, -44.5, 1) (18.5, 18, 1) (-18.5, 18, 1) (-10, 20.5, 1) (10, 20.5, 1)
fillet "フィレット2" radius 1 24 edges at (-14.5, -35.0667, 1) (-6.65, -37.7, 1) (6.65, -37.7, 1) (-11.5, -26.5, 1) (-11.5, -29.5, 1) (-14.5, -3.5, 1) (-12.52, -3.5, 1) (-12.9132, 1.5, 1) (-14.5, 1.5, 1) (12.52, -3.5, 1) (14.5, 1.5, 1) (12.9132, 1.5, 1) (-7.6649, 10.5, 1) (-14.5, 10.5, 1) (7.6649, 10.5, 1) (14.5, 10.5, 1) (-14.5, -30.2913, 1) (-14.5, -25.7087, 1) (14.5, -25.7087, 1) (14.5, -30.2913, 1) (14.5, -35.0667, 1) (11.5, -29.5, 1) (11.5, -26.5, 1) (14.5, -3.5, 1)
properties part number "Trunk_chest_horizontal_frame" material "アルミニウム 2014-T4"
